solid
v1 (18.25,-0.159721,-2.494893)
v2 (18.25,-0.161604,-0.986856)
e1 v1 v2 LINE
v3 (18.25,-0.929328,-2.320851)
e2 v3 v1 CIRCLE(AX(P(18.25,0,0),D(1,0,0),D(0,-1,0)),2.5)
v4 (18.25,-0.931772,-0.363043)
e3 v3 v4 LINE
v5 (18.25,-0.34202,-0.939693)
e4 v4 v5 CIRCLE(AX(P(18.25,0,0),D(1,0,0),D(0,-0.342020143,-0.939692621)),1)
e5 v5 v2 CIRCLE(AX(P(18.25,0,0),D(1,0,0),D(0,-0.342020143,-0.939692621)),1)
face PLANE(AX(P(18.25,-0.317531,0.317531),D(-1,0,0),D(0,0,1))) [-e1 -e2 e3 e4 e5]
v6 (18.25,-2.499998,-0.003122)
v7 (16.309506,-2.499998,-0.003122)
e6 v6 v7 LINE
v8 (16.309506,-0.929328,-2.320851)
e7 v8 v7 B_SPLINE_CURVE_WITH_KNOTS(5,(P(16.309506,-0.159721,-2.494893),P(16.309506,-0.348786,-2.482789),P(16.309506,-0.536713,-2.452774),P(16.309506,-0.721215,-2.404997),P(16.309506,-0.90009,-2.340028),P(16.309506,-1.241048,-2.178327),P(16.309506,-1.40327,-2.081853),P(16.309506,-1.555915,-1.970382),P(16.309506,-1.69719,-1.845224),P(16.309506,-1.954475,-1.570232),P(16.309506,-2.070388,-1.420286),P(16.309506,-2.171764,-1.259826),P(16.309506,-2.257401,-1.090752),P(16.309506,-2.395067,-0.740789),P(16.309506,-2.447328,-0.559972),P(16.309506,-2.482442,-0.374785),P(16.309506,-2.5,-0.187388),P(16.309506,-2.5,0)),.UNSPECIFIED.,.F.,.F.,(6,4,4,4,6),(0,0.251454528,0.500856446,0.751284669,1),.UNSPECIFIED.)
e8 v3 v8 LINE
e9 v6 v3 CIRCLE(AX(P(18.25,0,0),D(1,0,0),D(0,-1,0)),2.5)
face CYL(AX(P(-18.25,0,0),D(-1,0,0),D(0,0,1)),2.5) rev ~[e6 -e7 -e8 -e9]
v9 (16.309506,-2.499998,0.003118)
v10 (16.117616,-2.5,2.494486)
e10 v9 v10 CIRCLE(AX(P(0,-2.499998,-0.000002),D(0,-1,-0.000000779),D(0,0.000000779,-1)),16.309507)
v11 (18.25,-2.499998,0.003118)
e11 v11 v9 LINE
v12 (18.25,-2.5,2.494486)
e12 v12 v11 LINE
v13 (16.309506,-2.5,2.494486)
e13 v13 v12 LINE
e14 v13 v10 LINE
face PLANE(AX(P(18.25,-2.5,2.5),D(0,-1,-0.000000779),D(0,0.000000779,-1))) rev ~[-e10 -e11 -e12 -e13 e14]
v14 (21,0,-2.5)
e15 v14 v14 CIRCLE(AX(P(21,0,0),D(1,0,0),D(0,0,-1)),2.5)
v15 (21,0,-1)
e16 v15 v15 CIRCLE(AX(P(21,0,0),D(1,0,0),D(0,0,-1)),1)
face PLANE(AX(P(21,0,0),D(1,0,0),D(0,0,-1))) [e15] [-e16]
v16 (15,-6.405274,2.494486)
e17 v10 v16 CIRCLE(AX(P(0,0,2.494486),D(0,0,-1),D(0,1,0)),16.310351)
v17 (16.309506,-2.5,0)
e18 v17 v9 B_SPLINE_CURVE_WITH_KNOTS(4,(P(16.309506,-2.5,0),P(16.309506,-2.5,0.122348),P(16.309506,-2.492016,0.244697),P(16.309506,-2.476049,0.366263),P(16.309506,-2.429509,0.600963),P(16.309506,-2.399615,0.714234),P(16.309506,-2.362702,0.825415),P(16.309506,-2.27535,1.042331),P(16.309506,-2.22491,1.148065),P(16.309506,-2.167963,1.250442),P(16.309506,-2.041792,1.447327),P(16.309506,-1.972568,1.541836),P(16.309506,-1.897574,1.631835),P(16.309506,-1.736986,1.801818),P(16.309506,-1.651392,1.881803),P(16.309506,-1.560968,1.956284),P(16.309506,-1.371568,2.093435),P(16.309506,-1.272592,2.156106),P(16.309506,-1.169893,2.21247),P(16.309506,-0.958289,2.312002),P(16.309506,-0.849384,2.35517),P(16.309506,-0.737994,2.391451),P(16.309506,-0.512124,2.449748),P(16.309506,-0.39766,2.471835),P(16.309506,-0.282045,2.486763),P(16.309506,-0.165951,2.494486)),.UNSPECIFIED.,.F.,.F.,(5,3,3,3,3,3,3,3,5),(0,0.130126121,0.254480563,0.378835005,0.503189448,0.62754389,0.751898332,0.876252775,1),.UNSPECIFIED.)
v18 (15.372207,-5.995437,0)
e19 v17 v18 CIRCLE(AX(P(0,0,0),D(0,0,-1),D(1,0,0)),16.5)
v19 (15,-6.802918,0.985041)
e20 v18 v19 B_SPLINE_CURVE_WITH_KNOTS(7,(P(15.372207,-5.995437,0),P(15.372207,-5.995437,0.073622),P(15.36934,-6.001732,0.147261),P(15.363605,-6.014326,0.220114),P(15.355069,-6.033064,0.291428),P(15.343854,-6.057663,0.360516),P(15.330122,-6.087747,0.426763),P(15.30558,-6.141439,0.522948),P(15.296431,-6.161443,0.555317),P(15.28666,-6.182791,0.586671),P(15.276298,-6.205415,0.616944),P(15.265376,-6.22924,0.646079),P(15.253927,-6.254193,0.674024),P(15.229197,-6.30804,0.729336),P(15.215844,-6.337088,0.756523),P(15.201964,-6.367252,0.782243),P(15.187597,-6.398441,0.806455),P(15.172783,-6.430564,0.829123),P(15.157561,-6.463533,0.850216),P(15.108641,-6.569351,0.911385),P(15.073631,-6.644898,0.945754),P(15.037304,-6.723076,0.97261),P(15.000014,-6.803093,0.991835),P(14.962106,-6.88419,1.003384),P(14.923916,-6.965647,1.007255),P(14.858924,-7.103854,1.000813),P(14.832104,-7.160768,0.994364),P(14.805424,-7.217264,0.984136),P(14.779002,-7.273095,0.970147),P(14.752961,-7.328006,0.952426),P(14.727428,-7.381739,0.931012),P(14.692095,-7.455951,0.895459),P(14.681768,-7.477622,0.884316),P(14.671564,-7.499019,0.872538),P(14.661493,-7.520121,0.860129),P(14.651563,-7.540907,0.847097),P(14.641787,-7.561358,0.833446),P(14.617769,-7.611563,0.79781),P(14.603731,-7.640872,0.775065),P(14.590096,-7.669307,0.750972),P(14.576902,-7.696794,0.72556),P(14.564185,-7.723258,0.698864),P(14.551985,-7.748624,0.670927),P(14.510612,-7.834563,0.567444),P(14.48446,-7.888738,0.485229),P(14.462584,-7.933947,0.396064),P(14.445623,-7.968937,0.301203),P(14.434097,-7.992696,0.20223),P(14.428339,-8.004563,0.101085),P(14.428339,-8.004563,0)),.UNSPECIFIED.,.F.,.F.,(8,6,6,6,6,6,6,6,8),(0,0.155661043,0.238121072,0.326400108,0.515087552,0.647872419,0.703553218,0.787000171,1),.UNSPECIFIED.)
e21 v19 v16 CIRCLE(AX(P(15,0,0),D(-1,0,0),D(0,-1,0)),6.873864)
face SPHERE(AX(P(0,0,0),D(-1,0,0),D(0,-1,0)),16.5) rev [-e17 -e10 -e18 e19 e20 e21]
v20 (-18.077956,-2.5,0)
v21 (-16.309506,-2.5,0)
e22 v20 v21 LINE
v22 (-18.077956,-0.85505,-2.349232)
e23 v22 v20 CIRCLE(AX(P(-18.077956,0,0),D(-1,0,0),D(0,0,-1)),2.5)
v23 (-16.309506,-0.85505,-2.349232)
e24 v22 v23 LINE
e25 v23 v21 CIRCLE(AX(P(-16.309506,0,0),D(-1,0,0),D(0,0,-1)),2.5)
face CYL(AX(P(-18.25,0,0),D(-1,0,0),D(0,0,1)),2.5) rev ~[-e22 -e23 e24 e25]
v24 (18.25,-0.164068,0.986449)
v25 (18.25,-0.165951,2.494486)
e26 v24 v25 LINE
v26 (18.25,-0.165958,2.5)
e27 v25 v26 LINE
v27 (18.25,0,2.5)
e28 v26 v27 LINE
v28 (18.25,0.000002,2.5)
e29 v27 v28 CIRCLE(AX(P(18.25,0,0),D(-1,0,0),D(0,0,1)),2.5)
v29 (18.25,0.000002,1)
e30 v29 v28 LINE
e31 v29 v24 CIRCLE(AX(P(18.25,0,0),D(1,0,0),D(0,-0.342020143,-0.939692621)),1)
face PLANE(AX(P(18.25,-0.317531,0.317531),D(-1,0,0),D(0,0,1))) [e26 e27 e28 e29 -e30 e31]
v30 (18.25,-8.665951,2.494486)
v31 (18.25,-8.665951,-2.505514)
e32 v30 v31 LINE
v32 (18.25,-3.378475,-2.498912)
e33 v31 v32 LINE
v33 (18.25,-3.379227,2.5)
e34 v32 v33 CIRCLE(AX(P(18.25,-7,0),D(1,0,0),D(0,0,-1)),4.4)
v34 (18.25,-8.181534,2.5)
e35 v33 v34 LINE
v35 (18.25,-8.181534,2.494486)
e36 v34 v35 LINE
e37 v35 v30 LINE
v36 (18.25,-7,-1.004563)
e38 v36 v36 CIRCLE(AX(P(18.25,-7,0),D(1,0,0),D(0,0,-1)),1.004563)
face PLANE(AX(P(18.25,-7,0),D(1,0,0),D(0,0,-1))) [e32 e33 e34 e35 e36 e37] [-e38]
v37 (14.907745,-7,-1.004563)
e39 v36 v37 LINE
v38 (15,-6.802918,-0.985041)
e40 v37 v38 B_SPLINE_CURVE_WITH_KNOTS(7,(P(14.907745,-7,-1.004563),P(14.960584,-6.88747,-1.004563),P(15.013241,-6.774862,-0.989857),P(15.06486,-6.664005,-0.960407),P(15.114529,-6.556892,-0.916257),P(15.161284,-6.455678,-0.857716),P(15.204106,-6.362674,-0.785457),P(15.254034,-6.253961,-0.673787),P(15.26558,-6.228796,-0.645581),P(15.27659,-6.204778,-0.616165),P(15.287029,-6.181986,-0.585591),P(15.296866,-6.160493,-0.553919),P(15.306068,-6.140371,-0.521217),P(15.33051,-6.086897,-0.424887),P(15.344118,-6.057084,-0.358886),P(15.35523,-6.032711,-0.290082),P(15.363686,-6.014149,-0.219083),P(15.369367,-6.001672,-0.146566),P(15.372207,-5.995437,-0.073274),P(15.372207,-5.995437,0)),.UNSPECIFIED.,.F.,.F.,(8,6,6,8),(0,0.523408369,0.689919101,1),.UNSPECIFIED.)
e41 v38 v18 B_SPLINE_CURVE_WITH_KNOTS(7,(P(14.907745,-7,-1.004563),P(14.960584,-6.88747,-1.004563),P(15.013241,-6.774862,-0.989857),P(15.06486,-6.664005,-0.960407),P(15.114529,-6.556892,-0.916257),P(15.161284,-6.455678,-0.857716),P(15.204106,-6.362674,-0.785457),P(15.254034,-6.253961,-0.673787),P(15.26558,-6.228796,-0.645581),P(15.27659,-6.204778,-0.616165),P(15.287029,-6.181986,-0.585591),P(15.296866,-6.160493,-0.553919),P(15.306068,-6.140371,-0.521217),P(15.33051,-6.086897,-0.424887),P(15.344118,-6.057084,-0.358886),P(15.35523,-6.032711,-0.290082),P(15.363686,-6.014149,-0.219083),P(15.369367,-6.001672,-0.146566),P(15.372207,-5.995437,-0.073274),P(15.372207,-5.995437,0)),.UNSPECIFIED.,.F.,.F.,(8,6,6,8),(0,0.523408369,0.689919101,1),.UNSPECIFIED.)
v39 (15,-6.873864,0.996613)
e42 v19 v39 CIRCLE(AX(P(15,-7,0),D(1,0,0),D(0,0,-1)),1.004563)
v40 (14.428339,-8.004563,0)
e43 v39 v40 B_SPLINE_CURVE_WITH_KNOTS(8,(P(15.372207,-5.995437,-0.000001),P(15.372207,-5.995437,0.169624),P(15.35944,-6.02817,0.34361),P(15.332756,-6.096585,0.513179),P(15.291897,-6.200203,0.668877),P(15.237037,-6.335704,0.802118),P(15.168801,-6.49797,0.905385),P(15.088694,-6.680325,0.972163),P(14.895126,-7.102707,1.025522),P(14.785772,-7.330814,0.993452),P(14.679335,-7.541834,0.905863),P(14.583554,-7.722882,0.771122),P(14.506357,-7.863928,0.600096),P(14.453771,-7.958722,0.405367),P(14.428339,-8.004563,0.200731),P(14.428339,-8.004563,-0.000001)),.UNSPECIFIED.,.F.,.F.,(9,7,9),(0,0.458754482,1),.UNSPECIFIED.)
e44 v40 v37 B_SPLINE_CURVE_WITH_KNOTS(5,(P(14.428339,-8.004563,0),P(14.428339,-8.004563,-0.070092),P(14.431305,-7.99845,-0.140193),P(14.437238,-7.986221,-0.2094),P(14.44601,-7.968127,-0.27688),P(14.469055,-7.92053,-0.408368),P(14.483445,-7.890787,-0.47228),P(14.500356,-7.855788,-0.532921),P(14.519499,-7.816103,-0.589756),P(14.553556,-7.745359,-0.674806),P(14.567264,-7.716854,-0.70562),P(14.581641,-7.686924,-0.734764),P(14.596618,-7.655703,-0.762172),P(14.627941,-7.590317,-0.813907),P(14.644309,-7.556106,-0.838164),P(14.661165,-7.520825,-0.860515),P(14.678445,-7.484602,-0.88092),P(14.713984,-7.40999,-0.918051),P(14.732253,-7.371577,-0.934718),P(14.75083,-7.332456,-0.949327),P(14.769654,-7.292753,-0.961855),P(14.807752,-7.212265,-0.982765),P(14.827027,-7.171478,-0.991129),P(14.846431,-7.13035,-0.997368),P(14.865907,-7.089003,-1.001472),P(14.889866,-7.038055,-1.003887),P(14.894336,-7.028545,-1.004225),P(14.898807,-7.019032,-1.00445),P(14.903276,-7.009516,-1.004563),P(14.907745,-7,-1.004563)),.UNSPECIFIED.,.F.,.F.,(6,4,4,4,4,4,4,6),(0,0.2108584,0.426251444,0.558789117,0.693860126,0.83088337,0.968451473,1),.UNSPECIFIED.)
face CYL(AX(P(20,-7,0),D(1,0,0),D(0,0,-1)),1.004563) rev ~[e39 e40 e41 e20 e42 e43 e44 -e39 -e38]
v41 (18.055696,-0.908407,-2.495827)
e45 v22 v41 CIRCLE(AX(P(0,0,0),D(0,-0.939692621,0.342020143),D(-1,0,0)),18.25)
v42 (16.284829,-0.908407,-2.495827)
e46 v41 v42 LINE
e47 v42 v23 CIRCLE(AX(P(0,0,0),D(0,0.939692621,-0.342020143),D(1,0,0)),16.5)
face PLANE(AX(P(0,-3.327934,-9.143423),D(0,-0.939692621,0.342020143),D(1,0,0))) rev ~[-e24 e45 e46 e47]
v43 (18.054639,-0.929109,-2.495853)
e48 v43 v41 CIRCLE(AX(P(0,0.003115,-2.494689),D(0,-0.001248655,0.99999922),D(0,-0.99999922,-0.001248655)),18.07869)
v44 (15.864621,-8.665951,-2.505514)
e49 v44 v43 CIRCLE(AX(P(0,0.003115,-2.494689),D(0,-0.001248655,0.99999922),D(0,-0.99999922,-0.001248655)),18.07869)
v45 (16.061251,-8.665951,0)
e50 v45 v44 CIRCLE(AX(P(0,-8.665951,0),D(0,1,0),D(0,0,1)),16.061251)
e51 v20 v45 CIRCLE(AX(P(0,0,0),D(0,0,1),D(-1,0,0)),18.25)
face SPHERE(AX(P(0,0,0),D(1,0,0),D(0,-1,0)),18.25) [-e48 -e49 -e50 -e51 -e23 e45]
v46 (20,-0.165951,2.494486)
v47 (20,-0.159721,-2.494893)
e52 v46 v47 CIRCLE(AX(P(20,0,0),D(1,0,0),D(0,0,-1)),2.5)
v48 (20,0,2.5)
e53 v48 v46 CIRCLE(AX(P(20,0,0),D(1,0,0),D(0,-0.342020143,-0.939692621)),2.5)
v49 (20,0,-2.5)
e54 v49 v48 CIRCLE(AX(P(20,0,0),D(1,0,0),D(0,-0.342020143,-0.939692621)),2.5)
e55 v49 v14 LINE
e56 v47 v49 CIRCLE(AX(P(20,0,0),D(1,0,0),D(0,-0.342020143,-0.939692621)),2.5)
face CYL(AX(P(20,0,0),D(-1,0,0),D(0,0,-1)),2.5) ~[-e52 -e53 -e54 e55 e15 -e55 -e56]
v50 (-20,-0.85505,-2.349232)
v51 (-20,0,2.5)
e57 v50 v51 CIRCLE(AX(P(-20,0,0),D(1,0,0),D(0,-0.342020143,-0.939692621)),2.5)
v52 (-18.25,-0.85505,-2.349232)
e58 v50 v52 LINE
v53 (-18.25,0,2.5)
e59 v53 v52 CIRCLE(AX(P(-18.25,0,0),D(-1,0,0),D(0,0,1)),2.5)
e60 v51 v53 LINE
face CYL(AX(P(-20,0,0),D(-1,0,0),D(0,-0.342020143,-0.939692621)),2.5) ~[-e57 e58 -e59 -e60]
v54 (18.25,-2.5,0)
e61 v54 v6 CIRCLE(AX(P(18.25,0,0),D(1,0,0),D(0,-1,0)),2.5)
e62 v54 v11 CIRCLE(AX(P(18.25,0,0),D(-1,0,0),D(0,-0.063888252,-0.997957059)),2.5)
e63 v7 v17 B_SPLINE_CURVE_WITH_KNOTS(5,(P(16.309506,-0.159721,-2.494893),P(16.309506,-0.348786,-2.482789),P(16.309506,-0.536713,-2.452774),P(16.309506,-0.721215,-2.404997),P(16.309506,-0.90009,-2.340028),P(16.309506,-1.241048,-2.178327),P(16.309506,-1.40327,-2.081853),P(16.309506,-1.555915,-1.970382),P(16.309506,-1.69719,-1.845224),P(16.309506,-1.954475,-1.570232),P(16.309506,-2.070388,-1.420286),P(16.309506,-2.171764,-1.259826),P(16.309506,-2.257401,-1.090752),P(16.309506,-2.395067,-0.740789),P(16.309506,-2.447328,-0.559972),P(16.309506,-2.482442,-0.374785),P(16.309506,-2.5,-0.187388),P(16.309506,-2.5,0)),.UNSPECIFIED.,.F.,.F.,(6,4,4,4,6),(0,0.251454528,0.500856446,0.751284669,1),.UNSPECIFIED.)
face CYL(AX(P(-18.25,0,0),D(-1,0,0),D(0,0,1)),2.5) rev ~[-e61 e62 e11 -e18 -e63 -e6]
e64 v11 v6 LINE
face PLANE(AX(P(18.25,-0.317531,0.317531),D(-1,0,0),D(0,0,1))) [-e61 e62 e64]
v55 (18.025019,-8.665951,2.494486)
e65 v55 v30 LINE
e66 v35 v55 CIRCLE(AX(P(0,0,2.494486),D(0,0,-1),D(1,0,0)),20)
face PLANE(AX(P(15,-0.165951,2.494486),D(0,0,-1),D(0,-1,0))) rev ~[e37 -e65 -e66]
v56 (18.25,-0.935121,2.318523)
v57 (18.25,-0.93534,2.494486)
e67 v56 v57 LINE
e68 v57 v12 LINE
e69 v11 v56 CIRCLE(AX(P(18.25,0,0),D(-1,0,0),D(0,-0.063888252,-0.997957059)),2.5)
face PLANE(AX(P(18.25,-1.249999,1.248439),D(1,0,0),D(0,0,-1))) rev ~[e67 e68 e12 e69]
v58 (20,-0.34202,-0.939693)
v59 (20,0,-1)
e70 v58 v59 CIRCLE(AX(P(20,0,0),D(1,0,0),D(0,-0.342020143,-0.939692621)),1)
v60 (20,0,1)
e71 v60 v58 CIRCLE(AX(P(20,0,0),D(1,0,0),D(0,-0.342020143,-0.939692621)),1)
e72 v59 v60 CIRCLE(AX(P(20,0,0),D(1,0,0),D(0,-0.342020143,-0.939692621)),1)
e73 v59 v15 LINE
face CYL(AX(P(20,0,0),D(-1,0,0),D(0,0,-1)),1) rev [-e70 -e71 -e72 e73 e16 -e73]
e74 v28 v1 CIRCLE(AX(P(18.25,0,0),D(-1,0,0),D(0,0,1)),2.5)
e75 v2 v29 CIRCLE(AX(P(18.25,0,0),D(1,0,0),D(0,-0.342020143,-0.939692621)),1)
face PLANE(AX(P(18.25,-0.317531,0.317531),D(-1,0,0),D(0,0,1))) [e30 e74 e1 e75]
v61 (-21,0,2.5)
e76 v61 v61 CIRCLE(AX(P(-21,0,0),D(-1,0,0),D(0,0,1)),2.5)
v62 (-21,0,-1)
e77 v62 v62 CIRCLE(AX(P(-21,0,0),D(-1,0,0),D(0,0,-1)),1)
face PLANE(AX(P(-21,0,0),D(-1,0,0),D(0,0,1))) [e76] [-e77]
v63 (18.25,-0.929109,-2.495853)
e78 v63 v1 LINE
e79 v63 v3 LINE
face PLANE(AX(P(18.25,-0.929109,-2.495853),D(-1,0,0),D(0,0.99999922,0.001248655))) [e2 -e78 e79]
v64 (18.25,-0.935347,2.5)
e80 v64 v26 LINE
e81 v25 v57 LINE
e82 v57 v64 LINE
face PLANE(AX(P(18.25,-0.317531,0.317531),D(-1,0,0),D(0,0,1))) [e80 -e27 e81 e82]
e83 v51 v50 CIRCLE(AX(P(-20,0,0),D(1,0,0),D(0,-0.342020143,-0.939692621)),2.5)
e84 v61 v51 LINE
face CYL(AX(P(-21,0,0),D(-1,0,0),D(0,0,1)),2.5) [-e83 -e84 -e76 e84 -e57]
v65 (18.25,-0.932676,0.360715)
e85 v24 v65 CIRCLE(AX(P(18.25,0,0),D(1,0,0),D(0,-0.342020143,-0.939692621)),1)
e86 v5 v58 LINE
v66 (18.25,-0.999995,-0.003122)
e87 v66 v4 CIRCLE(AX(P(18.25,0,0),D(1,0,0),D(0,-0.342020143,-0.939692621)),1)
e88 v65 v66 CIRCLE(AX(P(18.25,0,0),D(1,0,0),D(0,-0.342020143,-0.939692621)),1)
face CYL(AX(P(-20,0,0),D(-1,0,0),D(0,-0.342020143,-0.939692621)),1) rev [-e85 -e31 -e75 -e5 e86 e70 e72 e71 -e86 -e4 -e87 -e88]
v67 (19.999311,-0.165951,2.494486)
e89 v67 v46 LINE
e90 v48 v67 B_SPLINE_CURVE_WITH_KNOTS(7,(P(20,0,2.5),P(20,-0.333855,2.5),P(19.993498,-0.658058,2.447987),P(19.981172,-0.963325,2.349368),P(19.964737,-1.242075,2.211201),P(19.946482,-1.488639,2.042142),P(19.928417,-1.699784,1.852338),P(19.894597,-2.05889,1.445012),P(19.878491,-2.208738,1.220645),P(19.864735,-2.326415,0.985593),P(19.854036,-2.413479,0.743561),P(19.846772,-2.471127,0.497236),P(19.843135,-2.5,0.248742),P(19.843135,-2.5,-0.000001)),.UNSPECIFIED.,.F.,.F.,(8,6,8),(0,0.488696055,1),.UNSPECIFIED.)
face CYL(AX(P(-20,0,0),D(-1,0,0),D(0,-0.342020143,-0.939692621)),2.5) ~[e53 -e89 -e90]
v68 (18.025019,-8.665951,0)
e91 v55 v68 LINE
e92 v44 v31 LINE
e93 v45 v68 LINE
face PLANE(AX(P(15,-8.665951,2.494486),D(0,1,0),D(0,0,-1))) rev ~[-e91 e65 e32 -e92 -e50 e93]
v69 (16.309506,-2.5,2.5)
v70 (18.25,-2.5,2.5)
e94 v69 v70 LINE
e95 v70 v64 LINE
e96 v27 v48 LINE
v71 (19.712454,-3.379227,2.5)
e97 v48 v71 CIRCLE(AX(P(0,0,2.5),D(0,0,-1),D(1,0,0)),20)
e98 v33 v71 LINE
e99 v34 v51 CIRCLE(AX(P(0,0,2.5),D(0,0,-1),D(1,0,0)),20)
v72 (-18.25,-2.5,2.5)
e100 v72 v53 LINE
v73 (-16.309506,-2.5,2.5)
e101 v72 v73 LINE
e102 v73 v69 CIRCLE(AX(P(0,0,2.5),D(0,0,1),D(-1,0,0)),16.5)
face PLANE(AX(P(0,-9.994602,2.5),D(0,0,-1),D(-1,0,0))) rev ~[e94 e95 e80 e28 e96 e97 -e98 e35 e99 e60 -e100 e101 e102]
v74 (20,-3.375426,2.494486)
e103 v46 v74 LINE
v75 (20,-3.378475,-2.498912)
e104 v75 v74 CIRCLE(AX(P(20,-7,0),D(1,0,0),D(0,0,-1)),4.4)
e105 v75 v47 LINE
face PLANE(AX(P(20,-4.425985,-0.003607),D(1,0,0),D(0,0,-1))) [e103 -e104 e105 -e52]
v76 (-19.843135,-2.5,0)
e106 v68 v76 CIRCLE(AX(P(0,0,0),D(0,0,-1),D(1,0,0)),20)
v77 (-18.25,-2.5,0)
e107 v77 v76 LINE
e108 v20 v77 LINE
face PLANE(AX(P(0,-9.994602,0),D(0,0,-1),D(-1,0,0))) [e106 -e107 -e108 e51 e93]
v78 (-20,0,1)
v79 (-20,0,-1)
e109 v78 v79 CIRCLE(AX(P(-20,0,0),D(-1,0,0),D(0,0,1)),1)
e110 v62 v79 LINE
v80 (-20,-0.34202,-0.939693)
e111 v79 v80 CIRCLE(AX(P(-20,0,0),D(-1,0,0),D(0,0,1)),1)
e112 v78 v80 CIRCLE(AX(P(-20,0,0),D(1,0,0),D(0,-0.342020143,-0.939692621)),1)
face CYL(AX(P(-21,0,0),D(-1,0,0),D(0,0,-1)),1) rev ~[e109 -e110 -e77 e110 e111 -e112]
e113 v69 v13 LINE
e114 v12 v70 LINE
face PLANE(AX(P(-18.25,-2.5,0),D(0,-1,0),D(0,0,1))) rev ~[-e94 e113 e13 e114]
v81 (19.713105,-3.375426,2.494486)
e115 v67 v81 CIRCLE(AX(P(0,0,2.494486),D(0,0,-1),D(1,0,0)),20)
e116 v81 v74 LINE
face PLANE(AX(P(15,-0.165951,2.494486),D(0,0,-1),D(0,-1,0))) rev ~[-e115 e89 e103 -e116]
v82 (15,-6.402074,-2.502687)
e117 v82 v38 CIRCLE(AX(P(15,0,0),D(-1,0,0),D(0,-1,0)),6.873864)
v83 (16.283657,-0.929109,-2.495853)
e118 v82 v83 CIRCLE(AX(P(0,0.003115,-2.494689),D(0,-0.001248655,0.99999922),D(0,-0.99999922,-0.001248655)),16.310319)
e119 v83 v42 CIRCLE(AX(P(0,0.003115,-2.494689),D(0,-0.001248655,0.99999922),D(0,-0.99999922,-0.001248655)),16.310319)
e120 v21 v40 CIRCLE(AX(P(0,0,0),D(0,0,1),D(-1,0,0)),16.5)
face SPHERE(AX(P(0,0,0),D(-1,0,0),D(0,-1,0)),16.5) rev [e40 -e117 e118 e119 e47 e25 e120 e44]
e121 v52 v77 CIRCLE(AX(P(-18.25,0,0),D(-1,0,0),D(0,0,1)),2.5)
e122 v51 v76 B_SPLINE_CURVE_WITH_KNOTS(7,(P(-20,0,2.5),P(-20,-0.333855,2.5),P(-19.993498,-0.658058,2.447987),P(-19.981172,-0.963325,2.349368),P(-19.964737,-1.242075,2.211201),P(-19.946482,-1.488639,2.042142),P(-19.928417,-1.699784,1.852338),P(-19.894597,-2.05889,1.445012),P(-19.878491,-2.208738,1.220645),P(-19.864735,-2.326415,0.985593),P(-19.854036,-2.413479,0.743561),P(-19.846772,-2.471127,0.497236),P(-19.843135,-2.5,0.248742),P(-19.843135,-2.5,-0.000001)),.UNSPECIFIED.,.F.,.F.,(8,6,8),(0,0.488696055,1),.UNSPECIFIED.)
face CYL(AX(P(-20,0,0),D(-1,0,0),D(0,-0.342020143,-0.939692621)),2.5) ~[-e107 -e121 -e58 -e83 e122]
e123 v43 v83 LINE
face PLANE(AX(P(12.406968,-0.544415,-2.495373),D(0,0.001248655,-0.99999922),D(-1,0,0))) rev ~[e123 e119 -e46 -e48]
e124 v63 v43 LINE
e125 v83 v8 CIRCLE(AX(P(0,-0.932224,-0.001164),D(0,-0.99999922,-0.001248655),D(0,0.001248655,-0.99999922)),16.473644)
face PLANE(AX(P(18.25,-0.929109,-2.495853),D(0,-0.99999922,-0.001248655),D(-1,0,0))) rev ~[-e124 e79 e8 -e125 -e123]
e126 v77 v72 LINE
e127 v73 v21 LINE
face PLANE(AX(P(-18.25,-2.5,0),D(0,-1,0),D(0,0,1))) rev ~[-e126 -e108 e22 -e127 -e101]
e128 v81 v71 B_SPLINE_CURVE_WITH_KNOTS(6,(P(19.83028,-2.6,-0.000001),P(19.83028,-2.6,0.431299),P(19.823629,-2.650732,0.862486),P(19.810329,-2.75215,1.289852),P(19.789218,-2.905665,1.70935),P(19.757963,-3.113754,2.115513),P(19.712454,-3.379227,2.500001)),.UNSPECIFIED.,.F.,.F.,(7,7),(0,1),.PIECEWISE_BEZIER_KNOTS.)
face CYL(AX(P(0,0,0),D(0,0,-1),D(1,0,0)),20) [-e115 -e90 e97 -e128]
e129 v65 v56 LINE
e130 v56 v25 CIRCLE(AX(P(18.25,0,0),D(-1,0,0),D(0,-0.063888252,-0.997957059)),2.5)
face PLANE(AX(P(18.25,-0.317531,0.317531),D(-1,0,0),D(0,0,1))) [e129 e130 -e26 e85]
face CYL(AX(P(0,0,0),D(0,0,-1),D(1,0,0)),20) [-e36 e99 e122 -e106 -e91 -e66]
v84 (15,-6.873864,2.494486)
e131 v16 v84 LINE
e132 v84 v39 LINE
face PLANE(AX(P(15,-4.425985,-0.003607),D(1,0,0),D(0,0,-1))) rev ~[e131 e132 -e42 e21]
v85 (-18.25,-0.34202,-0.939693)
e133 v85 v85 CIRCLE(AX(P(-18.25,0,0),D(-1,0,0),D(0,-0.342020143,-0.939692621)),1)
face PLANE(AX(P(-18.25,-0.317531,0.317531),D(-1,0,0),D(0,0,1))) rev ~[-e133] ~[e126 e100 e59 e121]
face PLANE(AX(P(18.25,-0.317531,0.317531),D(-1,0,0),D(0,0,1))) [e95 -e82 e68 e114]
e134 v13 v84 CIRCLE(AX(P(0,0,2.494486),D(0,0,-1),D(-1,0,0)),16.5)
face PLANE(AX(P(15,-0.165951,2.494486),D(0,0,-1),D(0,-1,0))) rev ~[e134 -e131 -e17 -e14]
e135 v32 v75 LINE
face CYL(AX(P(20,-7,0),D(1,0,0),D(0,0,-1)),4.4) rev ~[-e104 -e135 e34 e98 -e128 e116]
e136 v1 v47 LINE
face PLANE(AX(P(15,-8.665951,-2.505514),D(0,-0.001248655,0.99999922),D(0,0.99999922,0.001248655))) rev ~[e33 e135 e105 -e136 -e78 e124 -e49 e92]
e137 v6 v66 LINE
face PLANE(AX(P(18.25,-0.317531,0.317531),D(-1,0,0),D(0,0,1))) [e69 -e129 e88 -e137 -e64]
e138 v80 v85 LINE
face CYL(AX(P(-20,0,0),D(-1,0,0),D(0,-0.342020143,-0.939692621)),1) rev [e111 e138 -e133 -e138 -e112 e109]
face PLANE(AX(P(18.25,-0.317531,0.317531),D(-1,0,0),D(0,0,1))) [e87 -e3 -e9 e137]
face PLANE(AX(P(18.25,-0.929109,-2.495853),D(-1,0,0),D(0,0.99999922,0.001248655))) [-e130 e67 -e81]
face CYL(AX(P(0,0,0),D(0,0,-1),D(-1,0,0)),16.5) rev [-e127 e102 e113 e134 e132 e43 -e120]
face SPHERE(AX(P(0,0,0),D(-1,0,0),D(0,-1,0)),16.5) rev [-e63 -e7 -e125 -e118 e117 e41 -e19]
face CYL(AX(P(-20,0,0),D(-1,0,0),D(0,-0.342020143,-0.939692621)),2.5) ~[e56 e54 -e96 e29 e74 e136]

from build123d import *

# Parameters (mm, degrees)
EXTRUDE_1_DEPTH          = 2.5
REVOLVE_1_ANGLE          = 70.00000000000016
EXTRUDE_2_DEPTH          = 20
EXTRUDE_2_DEPTH_BACK     = 20
SKETCH_4_R               = 2.5
SKETCH_4_R_2             = 1
CUT_EXTRUDE_1_DEPTH      = 18.25
CUT_EXTRUDE_1_DEPTH_BACK = 18.25
SKETCH_5_R               = 1
CUT_EXTRUDE_START        = -100
SKETCH_6_R               = 1
CUT_EXTRUDE_2_DEPTH      = 100
EXTRUDE_START            = -5
SKETCH_8_R               = 1
EXTRUDE_3_DEPTH          = 5
SKETCH_9_R               = 1.004563182831931
CUT_EXTRUDE_3_DEPTH      = 10
EXTRUDE_START_2          = 1
SKETCH_10_R              = 2.5
SKETCH_10_R_2            = 1
EXTRUDE_4_DEPTH          = 1
SKETCH_11_R              = 2.500000000000001
SKETCH_11_R_2            = 1.0000000000000002
EXTRUDE_5_DEPTH          = 1
SKETCH_13_W              = 11.686063100659794
SKETCH_13_H              = 0.769389088656252
CUT_EXTRUDE_4_DEPTH      = 10
CUT_EXTRUDE_5_DEPTH      = 10
SKETCH_15_R              = 4.4
CUT_EXTRUDE_7_DEPTH      = 1.75


with BuildPart() as part:
    # 草图1 → 凸台-拉伸1 (new body)
    with BuildSketch(Plane.XY):
        with BuildLine():
            Line((-20, 0), (-16.500000000000004, 0))
            ThreePointArc((-16.500000000000004, 0), (1.01e-15, -16.499999999999996), (16.500000000000004, 0))
            Line((16.500000000000004, 0), (20, 0))
            ThreePointArc((20, 0), (1.22e-15, -19.999999999999982), (-20, 0))
        make_face()
    extrude(amount=EXTRUDE_1_DEPTH)

    # 草图2 → 旋转1 (revolve)
    with BuildSketch(Plane(origin=(0, 0, 0), x_dir=(-1, 0, 0), z_dir=(0, 0, -1))):
        with BuildLine():
            Line((-18.25, 0), (-16.500000000000004, 0))
            ThreePointArc((-16.500000000000004, 0), (1.01e-15, -16.5), (16.500000000000004, 1.33e-15))
            Line((16.500000000000004, 1.33e-15), (18.250000000000004, 6.6e-16))
            ThreePointArc((18.250000000000004, 6.6e-16), (-2.93e-15, -18.25), (-18.25, 0))
        make_face()
    revolve(axis=Axis((16.500000000000004, 0, 0), (1, -4e-17, 0)), revolution_arc=REVOLVE_1_ANGLE)

    # 草图4 → 凸台-拉伸2 (add, two sides: drawn at the far end of the back side and taken through both)
    with BuildSketch(Plane(origin=(0, 0, 0), x_dir=(0, 0, -1), z_dir=(1, 0, 0)).offset(-EXTRUDE_2_DEPTH_BACK)):
        Circle(SKETCH_4_R)
        Circle(SKETCH_4_R_2, mode=Mode.SUBTRACT)
    extrude(amount=EXTRUDE_2_DEPTH + EXTRUDE_2_DEPTH_BACK)

    # 草图5 → 切除-拉伸1 (cut, two sides: drawn at the far end of the back side and taken through both)
    with BuildSketch(Plane(origin=(0, 0, 0), x_dir=(0, 0, -1), z_dir=(1, 0, 0)).offset(-CUT_EXTRUDE_1_DEPTH_BACK)):
        with BuildLine():
            Line((0, -2.5), (-2.5, -2.5))
            Line((-2.5, -2.5), (-2.5, 0))
            ThreePointArc((-2.5, 0), (1.767766952966369, 1.76776695296637), (0, -2.5))
        make_face()
        Circle(SKETCH_5_R, mode=Mode.SUBTRACT)
    extrude(amount=CUT_EXTRUDE_1_DEPTH + CUT_EXTRUDE_1_DEPTH_BACK, mode=Mode.SUBTRACT)

    # 草图6 → 切除-拉伸2 (cut)
    with BuildSketch(Plane(origin=(20, 0, 0), x_dir=(0, 0, -1), z_dir=(1, 0, 0)).offset(CUT_EXTRUDE_START)):
        Circle(SKETCH_6_R)
    extrude(amount=CUT_EXTRUDE_2_DEPTH, mode=Mode.SUBTRACT)

    # 草图8 → 凸台-拉伸3 (add)
    with BuildSketch(Plane(origin=(20, 0, 0), x_dir=(0, 0, -1), z_dir=(1, 0, 0)).offset(EXTRUDE_START)):
        with BuildLine():
            ThreePointArc((2.494892647035231, -0.15972063038174344), (0.00312163823150463, -2.499998051074191), (-2.4944859955512104, -0.1659506492873415))
            Line((-2.49448599555121, -0.1659506492873411), (-2.494485995551209, -8.66595064928734))
            Line((-2.494485995551209, -8.66595064928734), (2.505514004448791, -8.66595064928734))
            Line((2.505514004448791, -8.66595064928734), (2.4948926470352397, -0.15972063038174333))
        make_face()
        with Locations((8.6e-16, -7)):
            Circle(SKETCH_8_R, mode=Mode.SUBTRACT)
    extrude(amount=EXTRUDE_3_DEPTH)

    # 草图9 → 切除-拉伸3 (cut)
    with BuildSketch(Plane(origin=(20, 0, 0), x_dir=(0, 0, -1), z_dir=(1, 0, 0))):
        with Locations((8.6e-16, -7)):
            Circle(SKETCH_9_R)
    extrude(amount=-CUT_EXTRUDE_3_DEPTH, mode=Mode.SUBTRACT)

    # 草图10 → 凸台-拉伸4 (add)
    with BuildSketch(Plane.ZY.offset(20).offset(EXTRUDE_START_2)):
        Circle(SKETCH_10_R)
        Circle(SKETCH_10_R_2, mode=Mode.SUBTRACT)
    extrude(amount=-EXTRUDE_4_DEPTH)

    # 草图11 → 凸台-拉伸5 (add)
    with BuildSketch(Plane(origin=(20, 0, 0), x_dir=(0, 0, -1), z_dir=(1, 0, 0))):
        Circle(SKETCH_11_R)
        Circle(SKETCH_11_R_2, mode=Mode.SUBTRACT)
    extrude(amount=EXTRUDE_5_DEPTH)

    # 草图12 → 切除-旋转1 (revolve, cut)
    with BuildSketch(Plane.XY):
        with BuildLine():
            Line((-16.499999999999996, 0), (16.499999999999996, 0))
            ThreePointArc((16.499999999999996, 0), (1.01e-15, -16.499999999999993), (-16.499999999999996, 0))
        make_face()
    revolve(axis=Axis((-16.499999999999996, 0, 0), (1, 0, 0)), mode=Mode.SUBTRACT)

    # 草图13 → 切除-拉伸4 (cut)
    with BuildSketch(Plane(origin=(0, 0.00311500945287562, -2.4946893212932255), x_dir=(-1, 0, 0), z_dir=(0, 0.00124865529263255, -0.9999992204296763))):
        with Locations((-12.406968449670103, -0.5475303111045247)):
            Rectangle(SKETCH_13_W, SKETCH_13_H)
    extrude(amount=-CUT_EXTRUDE_4_DEPTH, mode=Mode.SUBTRACT)

    # 草图14 → 切除-拉伸5 (cut)
    with BuildSketch(Plane.ZY.offset(-18.25)):
        Polygon((-0.00312163823158233, 1.94892580969e-06), (2.4999999999999996, 1.94892580969e-06), (2.5, -2.5), (-0.00312163823158202, -2.4999980510741904), align=None)
    extrude(amount=CUT_EXTRUDE_5_DEPTH, mode=Mode.SUBTRACT)

    # 草图15 → 切除-拉伸7 (cut)
    with BuildSketch(Plane(origin=(20, 0, 0), x_dir=(0, 0, -1), z_dir=(1, 0, 0))):
        with Locations((8.6e-16, -7)):
            Circle(SKETCH_15_R)
    extrude(amount=-CUT_EXTRUDE_7_DEPTH, mode=Mode.SUBTRACT)


solid = part.part
